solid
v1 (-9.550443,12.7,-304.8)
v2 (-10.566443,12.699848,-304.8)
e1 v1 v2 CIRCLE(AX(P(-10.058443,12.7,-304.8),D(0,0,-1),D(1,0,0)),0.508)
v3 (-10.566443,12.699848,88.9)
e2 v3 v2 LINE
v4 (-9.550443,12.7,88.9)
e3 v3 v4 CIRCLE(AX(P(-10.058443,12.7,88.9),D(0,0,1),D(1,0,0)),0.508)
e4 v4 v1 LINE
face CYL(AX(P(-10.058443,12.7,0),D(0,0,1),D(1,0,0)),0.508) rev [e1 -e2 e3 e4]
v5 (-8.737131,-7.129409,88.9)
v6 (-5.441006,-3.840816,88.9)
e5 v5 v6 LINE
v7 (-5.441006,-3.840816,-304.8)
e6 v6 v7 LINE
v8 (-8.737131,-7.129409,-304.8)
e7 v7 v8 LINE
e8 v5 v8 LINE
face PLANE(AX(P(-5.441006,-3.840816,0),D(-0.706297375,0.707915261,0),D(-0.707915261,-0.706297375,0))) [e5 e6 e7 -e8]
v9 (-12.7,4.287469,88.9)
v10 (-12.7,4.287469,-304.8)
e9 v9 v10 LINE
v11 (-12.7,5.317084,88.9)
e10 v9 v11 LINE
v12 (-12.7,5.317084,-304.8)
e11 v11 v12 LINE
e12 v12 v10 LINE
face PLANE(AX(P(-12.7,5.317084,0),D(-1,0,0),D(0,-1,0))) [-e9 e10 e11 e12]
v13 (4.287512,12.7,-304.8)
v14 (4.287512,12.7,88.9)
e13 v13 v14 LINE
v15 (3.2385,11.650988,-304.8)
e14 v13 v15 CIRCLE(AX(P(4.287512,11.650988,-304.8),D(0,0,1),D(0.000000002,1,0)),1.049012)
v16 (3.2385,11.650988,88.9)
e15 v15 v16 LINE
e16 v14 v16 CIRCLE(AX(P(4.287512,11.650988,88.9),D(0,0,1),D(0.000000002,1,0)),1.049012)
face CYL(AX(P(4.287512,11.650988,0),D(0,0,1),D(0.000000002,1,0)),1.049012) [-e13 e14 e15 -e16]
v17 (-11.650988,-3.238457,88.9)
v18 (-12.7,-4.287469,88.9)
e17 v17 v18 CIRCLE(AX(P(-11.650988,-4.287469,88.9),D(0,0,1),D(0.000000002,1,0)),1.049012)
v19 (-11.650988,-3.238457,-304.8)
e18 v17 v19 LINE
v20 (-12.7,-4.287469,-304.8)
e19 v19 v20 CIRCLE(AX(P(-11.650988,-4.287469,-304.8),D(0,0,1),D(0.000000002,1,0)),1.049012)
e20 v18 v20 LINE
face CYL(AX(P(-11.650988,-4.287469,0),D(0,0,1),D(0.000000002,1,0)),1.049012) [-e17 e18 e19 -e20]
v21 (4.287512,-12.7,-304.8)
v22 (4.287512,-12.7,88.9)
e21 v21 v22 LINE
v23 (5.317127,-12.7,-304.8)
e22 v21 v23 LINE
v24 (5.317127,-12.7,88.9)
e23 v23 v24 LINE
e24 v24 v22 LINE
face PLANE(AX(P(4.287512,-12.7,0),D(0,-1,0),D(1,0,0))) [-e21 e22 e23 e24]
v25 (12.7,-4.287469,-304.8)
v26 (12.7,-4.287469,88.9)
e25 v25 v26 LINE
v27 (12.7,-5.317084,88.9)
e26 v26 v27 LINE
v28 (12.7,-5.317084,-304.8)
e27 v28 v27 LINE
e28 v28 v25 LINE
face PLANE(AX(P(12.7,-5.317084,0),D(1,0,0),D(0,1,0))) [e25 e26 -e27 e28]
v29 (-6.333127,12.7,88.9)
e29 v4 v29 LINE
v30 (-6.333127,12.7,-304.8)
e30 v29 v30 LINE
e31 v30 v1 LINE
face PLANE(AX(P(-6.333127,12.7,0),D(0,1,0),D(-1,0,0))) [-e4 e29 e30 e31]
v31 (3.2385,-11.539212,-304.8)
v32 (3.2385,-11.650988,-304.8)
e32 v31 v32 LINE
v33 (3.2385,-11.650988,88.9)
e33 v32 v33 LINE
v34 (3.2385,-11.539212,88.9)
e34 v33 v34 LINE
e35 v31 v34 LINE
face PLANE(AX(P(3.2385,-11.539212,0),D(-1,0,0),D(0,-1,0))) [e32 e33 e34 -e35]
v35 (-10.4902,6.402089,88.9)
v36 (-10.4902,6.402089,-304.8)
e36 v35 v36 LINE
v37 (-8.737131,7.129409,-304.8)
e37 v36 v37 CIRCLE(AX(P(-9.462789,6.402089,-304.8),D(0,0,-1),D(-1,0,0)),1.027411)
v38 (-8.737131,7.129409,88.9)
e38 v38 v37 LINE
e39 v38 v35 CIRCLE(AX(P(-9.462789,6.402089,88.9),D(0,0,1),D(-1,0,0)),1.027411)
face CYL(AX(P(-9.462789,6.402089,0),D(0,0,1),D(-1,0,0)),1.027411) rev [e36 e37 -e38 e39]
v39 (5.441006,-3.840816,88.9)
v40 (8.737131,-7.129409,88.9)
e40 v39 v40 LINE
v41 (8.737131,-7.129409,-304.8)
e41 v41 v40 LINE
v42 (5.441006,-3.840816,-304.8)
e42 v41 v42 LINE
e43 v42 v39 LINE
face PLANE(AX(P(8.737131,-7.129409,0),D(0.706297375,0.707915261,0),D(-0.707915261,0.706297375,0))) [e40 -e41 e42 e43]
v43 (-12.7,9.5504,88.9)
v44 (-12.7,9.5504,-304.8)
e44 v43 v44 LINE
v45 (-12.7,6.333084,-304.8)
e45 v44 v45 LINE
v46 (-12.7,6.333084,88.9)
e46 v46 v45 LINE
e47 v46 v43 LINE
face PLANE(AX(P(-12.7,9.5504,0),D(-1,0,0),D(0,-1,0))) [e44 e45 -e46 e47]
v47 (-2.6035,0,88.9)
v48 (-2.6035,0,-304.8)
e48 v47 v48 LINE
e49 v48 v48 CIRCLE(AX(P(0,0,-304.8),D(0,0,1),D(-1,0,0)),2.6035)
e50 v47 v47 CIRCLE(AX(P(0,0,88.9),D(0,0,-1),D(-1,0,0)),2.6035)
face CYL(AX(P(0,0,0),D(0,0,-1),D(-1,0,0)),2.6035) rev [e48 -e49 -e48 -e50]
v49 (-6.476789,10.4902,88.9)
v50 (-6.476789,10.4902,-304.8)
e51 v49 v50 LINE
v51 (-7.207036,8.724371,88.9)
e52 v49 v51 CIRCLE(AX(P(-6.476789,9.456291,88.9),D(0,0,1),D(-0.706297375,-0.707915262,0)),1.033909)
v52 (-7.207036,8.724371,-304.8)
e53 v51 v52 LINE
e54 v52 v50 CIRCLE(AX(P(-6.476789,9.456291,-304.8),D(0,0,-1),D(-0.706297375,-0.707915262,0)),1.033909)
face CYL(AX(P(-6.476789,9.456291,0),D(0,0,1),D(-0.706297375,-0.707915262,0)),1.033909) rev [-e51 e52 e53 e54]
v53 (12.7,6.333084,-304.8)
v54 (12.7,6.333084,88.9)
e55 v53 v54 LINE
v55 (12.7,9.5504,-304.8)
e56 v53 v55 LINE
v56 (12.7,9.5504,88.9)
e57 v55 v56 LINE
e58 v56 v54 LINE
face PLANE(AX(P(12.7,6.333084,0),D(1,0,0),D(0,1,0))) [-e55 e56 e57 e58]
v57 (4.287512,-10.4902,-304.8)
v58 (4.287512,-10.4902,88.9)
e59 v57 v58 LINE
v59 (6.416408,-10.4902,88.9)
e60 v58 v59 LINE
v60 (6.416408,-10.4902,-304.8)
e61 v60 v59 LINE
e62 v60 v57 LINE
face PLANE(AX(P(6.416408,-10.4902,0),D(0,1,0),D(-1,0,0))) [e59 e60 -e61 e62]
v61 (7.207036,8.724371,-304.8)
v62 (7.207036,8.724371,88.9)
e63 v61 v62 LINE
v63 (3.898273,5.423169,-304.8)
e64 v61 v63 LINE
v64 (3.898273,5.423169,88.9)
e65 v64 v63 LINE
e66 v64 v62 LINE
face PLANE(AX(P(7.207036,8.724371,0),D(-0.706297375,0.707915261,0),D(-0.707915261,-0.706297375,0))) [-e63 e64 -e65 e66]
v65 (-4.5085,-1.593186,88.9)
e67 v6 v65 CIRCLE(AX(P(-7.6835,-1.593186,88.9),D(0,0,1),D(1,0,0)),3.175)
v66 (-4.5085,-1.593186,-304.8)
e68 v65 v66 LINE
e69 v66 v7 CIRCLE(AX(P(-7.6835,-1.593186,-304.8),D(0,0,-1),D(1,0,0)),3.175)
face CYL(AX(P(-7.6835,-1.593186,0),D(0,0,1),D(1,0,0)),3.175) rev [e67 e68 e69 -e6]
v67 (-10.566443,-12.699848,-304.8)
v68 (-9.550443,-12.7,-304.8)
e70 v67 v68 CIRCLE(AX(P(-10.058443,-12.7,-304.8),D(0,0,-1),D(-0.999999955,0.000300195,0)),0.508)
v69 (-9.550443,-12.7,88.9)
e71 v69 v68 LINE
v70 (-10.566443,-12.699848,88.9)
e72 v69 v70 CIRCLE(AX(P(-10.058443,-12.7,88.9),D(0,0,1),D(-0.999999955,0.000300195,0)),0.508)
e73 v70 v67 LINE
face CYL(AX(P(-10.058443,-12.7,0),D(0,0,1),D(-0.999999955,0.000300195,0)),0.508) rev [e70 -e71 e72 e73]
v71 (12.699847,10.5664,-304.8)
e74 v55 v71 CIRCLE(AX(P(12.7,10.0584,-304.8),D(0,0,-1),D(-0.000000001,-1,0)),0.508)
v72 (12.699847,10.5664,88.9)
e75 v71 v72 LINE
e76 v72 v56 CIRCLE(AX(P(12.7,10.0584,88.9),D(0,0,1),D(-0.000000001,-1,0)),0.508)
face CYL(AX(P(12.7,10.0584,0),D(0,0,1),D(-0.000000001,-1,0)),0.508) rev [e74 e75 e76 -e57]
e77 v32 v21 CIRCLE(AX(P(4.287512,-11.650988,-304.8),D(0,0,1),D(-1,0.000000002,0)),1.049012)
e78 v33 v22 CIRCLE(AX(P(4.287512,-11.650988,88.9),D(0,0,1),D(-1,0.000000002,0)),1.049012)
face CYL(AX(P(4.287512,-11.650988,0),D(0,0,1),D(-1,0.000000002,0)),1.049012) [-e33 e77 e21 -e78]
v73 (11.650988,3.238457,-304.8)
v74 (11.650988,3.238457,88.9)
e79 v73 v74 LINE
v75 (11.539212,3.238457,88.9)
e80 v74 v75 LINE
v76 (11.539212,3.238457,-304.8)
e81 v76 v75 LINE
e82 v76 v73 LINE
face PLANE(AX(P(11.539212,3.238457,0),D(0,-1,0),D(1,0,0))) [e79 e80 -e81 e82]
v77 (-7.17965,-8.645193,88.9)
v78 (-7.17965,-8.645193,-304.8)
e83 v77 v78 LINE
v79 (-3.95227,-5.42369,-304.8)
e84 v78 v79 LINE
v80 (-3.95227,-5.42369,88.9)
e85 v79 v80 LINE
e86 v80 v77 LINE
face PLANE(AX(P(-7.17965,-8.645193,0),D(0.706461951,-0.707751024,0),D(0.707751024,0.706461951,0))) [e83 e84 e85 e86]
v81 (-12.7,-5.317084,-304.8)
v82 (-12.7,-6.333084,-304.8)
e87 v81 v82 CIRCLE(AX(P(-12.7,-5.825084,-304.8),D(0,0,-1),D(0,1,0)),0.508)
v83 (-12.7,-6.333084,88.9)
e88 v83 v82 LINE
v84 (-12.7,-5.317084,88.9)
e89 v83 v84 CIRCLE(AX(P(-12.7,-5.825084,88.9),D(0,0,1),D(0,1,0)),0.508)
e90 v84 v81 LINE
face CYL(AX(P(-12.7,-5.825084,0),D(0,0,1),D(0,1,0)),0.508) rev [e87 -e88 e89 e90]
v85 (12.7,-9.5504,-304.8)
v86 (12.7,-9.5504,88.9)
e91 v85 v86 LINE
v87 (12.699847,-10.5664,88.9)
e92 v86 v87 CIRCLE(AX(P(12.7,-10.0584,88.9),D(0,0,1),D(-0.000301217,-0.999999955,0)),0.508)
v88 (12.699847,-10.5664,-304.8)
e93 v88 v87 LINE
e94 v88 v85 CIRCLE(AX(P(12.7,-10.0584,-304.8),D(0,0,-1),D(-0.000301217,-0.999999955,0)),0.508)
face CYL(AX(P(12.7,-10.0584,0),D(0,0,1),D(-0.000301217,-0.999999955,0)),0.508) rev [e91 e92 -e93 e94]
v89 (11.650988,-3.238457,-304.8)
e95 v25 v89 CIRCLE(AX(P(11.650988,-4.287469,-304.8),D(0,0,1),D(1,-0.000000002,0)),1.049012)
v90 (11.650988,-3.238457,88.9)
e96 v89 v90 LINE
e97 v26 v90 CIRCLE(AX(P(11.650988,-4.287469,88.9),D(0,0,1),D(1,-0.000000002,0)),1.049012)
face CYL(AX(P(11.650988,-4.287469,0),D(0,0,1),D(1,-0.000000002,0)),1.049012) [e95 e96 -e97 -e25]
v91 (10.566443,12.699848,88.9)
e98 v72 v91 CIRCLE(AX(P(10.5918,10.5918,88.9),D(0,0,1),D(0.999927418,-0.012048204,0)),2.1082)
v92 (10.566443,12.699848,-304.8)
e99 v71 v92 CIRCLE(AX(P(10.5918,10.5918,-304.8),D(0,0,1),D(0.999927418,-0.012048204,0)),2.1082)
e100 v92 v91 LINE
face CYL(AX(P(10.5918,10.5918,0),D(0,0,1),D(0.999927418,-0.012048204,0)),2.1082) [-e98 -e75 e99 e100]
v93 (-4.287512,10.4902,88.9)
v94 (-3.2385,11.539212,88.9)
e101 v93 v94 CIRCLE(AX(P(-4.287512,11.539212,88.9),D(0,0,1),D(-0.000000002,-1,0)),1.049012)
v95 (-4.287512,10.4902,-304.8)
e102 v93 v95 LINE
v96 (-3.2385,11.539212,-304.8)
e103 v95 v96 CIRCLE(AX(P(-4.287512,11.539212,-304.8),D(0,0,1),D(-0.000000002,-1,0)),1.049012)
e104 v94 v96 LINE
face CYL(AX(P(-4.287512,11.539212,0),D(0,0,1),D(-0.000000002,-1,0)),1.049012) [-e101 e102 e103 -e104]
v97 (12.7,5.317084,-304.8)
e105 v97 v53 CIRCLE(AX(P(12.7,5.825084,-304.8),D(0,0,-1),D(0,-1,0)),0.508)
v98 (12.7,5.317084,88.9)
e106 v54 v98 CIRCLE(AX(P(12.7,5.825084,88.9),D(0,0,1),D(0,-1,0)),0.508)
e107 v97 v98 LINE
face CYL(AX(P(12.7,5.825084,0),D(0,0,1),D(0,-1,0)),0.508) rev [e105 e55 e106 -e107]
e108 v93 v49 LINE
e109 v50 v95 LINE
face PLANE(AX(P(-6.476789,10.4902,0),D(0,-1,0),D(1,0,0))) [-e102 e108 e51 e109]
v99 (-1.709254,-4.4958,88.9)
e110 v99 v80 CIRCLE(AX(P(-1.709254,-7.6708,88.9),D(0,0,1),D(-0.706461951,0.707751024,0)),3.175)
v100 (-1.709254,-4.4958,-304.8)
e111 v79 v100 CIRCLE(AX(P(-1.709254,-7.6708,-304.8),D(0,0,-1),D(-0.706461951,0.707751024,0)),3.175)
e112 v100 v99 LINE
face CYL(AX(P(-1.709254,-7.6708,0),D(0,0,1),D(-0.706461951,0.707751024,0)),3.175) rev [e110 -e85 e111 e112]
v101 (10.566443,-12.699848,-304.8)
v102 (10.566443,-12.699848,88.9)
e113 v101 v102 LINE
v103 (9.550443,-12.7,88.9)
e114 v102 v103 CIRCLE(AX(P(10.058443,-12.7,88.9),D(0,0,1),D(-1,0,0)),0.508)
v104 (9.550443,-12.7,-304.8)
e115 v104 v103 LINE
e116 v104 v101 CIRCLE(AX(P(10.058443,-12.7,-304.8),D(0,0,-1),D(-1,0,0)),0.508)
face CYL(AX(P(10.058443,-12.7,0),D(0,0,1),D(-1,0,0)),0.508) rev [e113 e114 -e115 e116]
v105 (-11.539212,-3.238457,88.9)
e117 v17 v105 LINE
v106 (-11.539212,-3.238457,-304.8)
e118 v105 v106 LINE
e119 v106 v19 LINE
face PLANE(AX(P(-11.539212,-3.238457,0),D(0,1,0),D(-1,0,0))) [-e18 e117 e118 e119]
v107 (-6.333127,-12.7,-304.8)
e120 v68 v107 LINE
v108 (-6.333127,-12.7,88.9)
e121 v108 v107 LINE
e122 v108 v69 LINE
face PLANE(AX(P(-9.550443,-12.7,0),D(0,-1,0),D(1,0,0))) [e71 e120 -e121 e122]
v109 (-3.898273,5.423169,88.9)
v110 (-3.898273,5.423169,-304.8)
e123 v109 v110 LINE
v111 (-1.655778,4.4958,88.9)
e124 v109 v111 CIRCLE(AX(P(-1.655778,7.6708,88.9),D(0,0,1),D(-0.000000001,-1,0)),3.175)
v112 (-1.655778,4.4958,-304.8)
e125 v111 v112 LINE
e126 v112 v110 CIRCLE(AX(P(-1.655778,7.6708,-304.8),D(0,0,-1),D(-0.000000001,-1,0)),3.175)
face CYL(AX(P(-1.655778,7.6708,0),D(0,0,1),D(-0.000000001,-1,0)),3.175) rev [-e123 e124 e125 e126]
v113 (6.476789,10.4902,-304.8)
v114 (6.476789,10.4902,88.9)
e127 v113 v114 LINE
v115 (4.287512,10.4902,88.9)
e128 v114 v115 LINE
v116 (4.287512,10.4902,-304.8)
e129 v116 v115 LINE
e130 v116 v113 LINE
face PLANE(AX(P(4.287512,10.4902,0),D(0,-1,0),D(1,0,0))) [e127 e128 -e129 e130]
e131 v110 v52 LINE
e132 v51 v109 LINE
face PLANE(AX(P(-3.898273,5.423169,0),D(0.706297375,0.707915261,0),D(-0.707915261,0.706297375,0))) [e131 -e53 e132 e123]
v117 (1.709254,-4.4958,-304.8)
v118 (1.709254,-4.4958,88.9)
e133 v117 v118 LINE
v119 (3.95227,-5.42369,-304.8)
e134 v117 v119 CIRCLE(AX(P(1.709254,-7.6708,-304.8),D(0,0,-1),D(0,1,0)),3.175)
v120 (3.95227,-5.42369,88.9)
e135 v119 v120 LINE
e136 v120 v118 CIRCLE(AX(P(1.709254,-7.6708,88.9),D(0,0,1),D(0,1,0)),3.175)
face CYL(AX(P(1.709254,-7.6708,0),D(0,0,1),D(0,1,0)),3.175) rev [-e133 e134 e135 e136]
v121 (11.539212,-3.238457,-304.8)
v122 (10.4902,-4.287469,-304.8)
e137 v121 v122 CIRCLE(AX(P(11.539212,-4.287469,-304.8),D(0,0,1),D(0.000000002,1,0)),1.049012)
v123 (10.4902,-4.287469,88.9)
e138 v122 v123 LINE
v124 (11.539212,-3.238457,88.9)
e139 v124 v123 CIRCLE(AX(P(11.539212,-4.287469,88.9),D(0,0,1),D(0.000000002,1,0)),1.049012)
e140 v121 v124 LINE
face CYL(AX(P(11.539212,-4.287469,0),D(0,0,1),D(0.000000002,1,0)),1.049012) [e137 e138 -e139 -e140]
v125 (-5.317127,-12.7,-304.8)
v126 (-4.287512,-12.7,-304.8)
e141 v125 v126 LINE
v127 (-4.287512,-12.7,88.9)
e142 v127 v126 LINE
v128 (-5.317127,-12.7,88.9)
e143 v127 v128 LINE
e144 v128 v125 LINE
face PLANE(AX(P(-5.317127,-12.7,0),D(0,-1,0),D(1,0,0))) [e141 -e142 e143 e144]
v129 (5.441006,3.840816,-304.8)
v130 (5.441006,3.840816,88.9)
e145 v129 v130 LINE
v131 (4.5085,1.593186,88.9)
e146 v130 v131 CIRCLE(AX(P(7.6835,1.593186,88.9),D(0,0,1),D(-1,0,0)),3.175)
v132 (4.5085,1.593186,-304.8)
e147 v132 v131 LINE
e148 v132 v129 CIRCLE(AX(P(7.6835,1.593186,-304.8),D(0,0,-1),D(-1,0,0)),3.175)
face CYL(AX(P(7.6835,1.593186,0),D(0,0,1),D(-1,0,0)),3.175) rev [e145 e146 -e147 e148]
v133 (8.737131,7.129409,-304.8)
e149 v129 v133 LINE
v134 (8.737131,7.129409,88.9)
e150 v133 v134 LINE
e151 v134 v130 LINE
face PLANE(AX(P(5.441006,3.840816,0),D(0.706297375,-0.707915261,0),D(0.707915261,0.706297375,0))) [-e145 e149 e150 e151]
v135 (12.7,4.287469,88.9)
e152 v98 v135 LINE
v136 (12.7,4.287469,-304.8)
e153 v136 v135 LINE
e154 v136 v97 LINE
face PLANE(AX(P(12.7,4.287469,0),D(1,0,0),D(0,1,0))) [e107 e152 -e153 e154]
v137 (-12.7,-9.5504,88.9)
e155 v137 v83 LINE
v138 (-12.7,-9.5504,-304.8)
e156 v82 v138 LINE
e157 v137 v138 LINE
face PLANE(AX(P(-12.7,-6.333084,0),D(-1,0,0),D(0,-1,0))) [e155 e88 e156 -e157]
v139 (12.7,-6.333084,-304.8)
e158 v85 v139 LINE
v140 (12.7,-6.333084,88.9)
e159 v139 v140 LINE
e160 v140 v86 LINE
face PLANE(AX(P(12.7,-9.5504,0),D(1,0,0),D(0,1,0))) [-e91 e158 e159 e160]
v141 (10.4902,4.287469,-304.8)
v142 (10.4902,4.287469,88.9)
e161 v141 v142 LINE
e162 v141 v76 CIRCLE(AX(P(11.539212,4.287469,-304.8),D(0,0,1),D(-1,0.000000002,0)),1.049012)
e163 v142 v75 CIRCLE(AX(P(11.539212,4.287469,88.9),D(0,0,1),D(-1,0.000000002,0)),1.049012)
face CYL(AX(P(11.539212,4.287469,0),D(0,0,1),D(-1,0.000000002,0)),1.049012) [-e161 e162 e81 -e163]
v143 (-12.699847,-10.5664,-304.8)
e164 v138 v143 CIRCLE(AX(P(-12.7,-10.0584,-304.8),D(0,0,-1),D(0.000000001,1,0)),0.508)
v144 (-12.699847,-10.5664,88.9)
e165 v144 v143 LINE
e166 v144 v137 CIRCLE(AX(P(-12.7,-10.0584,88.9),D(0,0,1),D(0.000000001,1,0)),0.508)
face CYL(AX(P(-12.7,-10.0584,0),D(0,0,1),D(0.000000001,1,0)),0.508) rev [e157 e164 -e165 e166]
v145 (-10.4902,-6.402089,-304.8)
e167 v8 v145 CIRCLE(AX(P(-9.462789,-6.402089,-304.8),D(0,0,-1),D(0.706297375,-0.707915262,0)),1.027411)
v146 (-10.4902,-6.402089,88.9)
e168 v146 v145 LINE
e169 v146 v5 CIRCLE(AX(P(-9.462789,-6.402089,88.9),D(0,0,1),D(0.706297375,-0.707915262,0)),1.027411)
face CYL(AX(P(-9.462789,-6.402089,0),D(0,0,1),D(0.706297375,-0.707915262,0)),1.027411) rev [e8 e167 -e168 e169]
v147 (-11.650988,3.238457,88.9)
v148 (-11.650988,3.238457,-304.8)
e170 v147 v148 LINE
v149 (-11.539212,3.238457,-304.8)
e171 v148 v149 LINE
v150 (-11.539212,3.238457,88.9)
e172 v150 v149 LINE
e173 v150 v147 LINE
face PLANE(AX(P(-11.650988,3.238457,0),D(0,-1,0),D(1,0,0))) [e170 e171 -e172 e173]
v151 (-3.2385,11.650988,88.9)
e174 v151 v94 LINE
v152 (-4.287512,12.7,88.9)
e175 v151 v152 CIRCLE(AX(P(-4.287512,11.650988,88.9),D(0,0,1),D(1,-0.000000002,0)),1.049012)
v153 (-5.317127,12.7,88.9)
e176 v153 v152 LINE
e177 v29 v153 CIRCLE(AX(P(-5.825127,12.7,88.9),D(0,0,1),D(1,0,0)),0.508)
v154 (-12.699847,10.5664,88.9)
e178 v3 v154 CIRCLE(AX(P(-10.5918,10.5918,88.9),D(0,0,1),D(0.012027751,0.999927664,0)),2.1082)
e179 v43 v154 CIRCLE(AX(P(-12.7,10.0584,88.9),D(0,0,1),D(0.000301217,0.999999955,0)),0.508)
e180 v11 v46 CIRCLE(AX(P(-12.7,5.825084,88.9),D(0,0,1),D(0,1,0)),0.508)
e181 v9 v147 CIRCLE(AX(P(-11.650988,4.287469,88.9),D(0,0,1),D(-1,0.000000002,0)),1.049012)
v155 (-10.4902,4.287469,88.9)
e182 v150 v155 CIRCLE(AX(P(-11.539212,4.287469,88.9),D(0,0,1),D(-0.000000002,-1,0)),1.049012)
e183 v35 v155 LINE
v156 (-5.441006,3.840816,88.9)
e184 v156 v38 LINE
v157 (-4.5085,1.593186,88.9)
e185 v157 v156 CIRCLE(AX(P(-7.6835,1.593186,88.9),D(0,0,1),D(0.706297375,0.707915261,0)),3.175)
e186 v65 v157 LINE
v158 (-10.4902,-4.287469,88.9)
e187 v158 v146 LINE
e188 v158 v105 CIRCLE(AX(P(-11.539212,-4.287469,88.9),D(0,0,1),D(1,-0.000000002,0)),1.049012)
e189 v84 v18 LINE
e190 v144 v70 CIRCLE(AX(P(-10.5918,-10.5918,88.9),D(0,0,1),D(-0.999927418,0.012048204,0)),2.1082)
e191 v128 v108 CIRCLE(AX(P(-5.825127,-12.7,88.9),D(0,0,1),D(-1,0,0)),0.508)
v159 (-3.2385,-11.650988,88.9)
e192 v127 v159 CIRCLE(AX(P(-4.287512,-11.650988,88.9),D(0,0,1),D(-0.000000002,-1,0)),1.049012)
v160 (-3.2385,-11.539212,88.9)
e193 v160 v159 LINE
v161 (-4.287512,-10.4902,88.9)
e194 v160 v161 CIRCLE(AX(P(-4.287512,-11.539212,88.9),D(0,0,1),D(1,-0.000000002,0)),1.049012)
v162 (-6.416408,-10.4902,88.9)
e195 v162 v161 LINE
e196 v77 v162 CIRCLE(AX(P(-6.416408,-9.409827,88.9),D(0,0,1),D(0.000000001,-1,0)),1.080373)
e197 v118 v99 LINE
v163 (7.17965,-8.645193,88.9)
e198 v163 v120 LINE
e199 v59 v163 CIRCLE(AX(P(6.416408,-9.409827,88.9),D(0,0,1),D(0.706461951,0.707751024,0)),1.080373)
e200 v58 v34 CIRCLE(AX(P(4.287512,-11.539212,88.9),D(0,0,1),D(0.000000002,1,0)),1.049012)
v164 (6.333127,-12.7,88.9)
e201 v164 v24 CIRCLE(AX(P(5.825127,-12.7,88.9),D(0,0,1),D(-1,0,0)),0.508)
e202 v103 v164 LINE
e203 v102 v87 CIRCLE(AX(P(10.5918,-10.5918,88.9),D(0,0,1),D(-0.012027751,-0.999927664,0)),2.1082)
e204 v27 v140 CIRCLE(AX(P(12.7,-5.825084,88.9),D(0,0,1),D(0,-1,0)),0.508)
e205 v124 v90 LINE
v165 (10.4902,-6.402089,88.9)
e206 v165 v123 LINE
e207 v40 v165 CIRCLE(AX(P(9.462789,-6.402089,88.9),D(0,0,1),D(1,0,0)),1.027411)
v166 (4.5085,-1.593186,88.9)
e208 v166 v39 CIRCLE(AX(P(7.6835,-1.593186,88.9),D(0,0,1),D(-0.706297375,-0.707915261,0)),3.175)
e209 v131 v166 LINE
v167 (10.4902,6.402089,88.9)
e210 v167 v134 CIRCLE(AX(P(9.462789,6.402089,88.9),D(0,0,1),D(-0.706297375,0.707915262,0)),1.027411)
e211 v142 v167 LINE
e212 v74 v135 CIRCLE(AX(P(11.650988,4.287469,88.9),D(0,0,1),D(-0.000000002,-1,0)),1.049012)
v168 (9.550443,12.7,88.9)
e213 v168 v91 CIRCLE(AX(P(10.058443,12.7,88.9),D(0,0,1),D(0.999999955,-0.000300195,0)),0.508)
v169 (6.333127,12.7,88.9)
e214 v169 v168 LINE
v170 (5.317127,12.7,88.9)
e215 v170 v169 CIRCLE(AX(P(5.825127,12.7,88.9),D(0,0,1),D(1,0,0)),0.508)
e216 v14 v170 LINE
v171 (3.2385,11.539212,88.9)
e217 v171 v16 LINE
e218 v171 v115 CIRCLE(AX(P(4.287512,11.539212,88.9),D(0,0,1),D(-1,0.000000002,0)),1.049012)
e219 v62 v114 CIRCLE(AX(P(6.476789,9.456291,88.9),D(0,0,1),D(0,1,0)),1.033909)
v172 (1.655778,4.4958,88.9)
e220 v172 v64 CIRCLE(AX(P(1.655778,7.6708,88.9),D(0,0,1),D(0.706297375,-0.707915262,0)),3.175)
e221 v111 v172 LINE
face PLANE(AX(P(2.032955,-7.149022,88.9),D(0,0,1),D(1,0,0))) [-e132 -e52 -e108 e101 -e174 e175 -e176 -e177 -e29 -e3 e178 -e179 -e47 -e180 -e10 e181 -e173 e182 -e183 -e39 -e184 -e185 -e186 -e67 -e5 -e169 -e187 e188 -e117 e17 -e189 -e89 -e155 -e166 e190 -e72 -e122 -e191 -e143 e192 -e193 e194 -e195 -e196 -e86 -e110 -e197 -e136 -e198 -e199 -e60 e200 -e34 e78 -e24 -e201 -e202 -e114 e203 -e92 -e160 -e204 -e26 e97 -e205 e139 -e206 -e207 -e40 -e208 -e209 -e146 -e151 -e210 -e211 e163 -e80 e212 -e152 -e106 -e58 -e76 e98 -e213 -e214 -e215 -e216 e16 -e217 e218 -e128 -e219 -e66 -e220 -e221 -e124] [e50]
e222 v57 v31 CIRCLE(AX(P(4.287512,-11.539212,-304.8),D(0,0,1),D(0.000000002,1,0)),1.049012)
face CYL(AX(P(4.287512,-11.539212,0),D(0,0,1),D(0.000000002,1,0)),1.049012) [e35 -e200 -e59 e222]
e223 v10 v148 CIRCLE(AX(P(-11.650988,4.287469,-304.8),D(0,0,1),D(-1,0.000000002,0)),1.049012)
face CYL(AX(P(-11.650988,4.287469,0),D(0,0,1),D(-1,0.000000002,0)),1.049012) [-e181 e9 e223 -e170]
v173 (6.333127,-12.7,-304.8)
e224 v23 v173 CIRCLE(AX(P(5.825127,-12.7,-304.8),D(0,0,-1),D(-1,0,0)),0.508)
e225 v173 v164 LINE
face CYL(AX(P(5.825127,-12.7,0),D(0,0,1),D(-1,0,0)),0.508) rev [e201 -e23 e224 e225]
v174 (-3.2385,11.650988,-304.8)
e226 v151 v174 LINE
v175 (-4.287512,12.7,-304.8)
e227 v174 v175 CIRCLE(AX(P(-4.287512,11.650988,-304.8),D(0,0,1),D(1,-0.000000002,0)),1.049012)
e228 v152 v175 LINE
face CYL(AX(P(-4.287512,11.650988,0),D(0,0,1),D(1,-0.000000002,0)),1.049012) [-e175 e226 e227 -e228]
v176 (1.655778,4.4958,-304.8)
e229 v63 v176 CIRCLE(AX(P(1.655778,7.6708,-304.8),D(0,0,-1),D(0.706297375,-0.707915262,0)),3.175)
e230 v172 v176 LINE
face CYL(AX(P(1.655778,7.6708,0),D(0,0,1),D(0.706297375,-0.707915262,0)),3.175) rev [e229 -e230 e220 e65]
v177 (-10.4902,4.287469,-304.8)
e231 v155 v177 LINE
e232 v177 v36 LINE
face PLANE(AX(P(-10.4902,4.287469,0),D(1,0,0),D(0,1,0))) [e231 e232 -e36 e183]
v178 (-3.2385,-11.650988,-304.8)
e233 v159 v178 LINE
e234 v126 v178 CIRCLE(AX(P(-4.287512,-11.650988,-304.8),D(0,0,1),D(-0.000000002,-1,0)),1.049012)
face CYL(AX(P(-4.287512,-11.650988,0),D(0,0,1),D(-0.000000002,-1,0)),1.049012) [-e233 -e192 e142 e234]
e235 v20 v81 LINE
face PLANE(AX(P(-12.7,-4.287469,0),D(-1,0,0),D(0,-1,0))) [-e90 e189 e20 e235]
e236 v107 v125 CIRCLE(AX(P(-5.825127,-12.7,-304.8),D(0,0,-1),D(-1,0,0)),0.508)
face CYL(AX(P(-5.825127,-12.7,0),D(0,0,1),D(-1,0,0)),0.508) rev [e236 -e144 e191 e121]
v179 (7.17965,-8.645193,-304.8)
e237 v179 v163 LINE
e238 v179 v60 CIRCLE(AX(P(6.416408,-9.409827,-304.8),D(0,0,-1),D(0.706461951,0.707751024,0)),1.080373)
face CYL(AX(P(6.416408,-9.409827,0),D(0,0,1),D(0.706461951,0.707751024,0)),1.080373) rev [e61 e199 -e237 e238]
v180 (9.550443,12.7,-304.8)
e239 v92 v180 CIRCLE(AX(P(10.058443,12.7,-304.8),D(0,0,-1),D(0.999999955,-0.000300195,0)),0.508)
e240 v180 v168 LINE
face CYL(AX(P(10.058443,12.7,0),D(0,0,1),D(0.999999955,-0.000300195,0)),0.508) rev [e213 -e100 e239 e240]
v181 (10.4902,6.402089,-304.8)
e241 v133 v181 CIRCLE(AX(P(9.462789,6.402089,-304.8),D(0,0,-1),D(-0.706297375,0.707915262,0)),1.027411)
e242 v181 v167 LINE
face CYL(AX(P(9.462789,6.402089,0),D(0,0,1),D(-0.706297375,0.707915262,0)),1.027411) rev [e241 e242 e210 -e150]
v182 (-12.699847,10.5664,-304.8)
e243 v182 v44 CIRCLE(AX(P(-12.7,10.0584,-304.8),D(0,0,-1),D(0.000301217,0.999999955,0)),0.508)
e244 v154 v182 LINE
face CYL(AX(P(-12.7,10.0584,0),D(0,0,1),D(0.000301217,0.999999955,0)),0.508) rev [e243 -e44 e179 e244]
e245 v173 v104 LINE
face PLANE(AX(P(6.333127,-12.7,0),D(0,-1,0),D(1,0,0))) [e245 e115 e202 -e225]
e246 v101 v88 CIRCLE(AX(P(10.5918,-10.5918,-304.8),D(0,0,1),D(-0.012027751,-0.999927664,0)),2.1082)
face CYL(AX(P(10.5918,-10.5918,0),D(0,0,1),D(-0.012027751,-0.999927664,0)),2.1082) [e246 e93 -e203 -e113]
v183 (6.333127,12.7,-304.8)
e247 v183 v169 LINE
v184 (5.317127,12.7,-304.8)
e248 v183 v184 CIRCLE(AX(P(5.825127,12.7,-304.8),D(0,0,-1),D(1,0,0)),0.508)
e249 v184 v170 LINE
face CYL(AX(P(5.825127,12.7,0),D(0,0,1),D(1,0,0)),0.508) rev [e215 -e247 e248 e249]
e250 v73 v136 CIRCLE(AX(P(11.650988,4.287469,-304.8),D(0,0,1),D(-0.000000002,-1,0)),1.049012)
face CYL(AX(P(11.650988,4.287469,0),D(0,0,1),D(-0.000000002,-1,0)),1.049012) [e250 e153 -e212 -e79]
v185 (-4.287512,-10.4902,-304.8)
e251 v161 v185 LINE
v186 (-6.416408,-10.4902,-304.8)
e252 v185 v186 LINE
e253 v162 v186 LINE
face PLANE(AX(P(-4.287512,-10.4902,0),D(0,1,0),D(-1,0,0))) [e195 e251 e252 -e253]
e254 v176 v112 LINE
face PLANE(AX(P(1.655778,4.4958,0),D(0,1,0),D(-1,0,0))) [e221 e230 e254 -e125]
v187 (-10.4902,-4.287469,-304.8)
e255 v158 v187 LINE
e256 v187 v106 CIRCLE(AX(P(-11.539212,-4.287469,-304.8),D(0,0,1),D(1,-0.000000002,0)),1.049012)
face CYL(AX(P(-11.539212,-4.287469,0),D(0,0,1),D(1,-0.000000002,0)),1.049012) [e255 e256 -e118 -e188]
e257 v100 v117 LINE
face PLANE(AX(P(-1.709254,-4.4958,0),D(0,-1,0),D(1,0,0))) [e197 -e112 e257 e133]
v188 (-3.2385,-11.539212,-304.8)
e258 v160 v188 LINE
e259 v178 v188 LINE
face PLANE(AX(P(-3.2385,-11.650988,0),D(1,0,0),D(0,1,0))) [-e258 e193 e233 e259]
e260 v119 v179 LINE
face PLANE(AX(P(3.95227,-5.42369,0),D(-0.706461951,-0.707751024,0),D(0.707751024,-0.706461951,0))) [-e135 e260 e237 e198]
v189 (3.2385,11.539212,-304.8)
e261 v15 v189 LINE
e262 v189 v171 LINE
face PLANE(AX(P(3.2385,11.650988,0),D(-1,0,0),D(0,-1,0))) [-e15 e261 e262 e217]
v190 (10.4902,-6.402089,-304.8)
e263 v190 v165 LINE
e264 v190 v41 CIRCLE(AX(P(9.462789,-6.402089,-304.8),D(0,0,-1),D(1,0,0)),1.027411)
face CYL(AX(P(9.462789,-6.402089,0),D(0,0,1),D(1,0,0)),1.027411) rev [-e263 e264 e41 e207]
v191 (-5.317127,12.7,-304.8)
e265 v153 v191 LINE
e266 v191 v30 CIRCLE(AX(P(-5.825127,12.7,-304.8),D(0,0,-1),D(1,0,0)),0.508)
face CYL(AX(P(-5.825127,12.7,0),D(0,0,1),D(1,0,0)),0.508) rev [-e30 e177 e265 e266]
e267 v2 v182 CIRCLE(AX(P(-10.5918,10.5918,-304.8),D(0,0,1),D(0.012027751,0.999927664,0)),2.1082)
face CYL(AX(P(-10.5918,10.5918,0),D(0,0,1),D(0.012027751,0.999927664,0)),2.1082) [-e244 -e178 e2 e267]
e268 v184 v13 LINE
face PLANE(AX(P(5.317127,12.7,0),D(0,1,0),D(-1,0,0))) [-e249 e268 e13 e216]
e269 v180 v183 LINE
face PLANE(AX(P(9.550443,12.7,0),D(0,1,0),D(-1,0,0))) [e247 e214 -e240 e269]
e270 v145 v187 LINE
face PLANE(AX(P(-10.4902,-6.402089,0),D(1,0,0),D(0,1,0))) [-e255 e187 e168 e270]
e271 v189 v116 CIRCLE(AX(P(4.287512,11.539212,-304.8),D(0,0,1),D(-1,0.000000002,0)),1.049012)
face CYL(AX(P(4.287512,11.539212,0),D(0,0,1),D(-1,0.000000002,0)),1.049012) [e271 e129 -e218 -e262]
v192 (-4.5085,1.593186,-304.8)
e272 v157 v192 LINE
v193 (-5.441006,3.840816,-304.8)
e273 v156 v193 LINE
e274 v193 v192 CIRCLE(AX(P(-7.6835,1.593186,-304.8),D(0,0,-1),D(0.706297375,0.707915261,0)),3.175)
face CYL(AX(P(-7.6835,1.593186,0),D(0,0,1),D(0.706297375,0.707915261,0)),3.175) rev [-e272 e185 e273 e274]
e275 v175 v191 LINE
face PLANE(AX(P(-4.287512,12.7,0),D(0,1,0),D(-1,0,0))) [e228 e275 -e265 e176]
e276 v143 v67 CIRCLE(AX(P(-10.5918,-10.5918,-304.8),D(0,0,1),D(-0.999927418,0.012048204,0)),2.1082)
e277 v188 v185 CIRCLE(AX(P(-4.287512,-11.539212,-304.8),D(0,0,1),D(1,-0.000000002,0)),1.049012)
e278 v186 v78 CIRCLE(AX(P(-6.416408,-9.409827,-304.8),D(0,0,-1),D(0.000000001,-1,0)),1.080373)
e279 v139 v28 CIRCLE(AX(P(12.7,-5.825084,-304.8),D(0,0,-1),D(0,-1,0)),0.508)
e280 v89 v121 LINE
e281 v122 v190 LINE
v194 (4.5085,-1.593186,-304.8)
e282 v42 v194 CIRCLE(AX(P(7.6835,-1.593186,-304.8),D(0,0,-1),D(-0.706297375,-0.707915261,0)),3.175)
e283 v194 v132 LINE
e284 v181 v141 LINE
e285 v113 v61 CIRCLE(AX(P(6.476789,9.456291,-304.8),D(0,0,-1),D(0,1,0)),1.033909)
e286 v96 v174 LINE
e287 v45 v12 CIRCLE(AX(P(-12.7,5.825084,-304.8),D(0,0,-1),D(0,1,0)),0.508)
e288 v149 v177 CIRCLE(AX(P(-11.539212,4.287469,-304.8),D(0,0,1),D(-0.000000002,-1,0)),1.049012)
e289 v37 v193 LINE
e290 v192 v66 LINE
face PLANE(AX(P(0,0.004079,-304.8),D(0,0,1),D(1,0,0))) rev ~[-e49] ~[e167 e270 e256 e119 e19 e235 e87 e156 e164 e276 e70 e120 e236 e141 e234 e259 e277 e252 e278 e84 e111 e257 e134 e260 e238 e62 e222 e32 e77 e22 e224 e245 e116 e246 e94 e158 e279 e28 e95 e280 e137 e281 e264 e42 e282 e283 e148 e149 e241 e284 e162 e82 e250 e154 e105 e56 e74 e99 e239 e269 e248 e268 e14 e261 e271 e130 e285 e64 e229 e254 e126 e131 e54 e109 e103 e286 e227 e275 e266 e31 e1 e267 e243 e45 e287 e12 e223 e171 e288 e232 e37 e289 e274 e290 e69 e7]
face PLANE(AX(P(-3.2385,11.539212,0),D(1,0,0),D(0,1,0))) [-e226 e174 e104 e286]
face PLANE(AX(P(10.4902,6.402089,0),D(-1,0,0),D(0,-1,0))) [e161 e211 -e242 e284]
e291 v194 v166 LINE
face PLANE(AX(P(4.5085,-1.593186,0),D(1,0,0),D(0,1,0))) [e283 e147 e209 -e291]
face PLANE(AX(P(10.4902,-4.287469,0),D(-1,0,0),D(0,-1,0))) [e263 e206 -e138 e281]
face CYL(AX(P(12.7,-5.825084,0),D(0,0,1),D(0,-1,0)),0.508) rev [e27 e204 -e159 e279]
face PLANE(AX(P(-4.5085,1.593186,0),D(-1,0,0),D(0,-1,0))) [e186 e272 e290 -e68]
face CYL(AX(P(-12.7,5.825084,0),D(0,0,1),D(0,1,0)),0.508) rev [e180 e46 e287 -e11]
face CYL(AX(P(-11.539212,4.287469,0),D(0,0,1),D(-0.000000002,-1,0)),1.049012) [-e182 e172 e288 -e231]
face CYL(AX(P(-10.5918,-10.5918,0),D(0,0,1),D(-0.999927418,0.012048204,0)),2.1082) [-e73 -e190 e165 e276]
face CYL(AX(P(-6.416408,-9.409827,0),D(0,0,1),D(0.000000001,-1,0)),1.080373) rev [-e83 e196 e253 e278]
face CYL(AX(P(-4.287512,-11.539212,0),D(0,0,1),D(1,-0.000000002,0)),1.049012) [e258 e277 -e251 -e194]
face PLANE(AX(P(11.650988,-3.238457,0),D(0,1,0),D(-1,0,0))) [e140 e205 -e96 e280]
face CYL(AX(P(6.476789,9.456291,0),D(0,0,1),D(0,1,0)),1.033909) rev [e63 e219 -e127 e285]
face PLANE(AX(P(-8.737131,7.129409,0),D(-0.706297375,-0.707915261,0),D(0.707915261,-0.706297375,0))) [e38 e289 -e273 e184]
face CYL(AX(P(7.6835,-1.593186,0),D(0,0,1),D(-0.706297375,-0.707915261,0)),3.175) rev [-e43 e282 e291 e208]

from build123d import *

# Parameters (mm, degrees)
SKETCH1_R           = 2.6035
BOSS_EXTRUDE1_DEPTH = 304.8
SKETCH4_W           = 111.881227381
SKETCH4_H           = 93.826727356
CUT_EXTRUDE3_DEPTH  = 215.9


with BuildPart() as part:
    # Sketch1 → Boss-Extrude1 (new, symmetric)
    with BuildSketch(Plane.XY):
        with BuildLine():
            Line((-7.179650497, -8.645192506), (-3.952270251, -5.423690499))
            ThreePointArc((-3.952270251, -5.423690499), (-2.922936451, -4.736929036), (-1.709253557, -4.4958))
            Line((-1.709253557, -4.4958), (1.709253557, -4.4958))
            ThreePointArc((1.709253557, -4.4958), (2.922936451, -4.736929036), (3.952270251, -5.423690499))
            Line((3.952270251, -5.423690499), (7.179650497, -8.645192506))
            ThreePointArc((7.179650497, -8.645192506), (7.41473083, -9.822813117), (6.416408329, -10.4902))
            Line((6.416408329, -10.4902), (4.287512407, -10.4902))
            ThreePointArc((4.287512407, -10.4902), (3.54574862, -10.79744862), (3.2385, -11.539212407))
            Line((3.2385, -11.539212407), (3.2385, -11.650987593))
            ThreePointArc((3.2385, -11.650987593), (3.54574862, -12.39275138), (4.287512407, -12.7))
            Line((4.287512407, -12.7), (5.317126718, -12.7))
            ThreePointArc((5.317126718, -12.7), (5.825126718, -12.192), (6.333126718, -12.7))
            Line((6.333126718, -12.7), (9.550443118, -12.7))
            ThreePointArc((9.550443118, -12.7), (10.058366869, -12.192000006), (10.566443095, -12.699847501))
            ThreePointArc((10.566443095, -12.699847501), (12.082537762, -12.08250727), (12.699846982, -10.566399977))
            ThreePointArc((12.699846982, -10.566399977), (12.192000006, -10.058323491), (12.7, -9.5504))
            Line((12.7, -9.5504), (12.7, -6.3330836))
            ThreePointArc((12.7, -6.3330836), (12.192, -5.8250836), (12.7, -5.3170836))
            Line((12.7, -5.3170836), (12.7, -4.287469289))
            ThreePointArc((12.7, -4.287469289), (12.39275138, -3.545705502), (11.650987593, -3.238456882))
            Line((11.650987593, -3.238456882), (11.539212407, -3.238456882))
            ThreePointArc((11.539212407, -3.238456882), (10.79744862, -3.545705502), (10.4902, -4.287469289))
            Line((10.4902, -4.287469289), (10.4902, -6.402089023))
            ThreePointArc((10.4902, -6.402089023), (9.856505071, -7.351067942), (8.737131347, -7.129408934))
            Line((8.737131347, -7.129408934), (5.441005833, -3.840816462))
            ThreePointArc((5.441005833, -3.840816462), (4.750877967, -2.809883091), (4.5085, -1.593185507))
            Line((4.5085, -1.593185507), (4.5085, 1.593185507))
            ThreePointArc((4.5085, 1.593185507), (4.750877967, 2.809883091), (5.441005833, 3.840816462))
            Line((5.441005833, 3.840816462), (8.737131347, 7.129408934))
            ThreePointArc((8.737131347, 7.129408934), (9.856505071, 7.351067942), (10.4902, 6.402089023))
            Line((10.4902, 6.402089023), (10.4902, 4.287469289))
            ThreePointArc((10.4902, 4.287469289), (10.79744862, 3.545705502), (11.539212407, 3.238456882))
            Line((11.539212407, 3.238456882), (11.650987593, 3.238456882))
            ThreePointArc((11.650987593, 3.238456882), (12.39275138, 3.545705502), (12.7, 4.287469289))
            Line((12.7, 4.287469289), (12.7, 5.3170836))
            ThreePointArc((12.7, 5.3170836), (12.192, 5.8250836), (12.7, 6.3330836))
            Line((12.7, 6.3330836), (12.7, 9.5504))
            ThreePointArc((12.7, 9.5504), (12.192000006, 10.058323491), (12.699846982, 10.566399977))
            ThreePointArc((12.699846982, 10.566399977), (12.082537762, 12.08250727), (10.566443095, 12.699847501))
            ThreePointArc((10.566443095, 12.699847501), (10.058366869, 12.192000006), (9.550443118, 12.7))
            Line((9.550443118, 12.7), (6.333126718, 12.7))
            ThreePointArc((6.333126718, 12.7), (5.825126718, 12.192), (5.317126718, 12.7))
            Line((5.317126718, 12.7), (4.287512407, 12.7))
            ThreePointArc((4.287512407, 12.7), (3.54574862, 12.39275138), (3.2385, 11.650987593))
            Line((3.2385, 11.650987593), (3.2385, 11.539212407))
            ThreePointArc((3.2385, 11.539212407), (3.54574862, 10.79744862), (4.287512407, 10.4902))
            Line((4.287512407, 10.4902), (6.476788598, 10.4902))
            ThreePointArc((6.476788598, 10.4902), (7.432222385, 9.85140422), (7.207036008, 8.724370562))
            Line((7.207036008, 8.724370562), (3.898272566, 5.423169045))
            ThreePointArc((3.898272566, 5.423169045), (2.869120213, 4.736787962), (1.655778399, 4.4958))
            Line((1.655778399, 4.4958), (-1.655778399, 4.4958))
            ThreePointArc((-1.655778399, 4.4958), (-2.869120213, 4.736787962), (-3.898272566, 5.423169045))
            Line((-3.898272566, 5.423169045), (-7.207036008, 8.724370562))
            ThreePointArc((-7.207036008, 8.724370562), (-7.432222385, 9.85140422), (-6.476788598, 10.4902))
            Line((-6.476788598, 10.4902), (-4.287512407, 10.4902))
            ThreePointArc((-4.287512407, 10.4902), (-3.54574862, 10.79744862), (-3.2385, 11.539212407))
            Line((-3.2385, 11.539212407), (-3.2385, 11.650987593))
            ThreePointArc((-3.2385, 11.650987593), (-3.54574862, 12.39275138), (-4.287512407, 12.7))
            Line((-4.287512407, 12.7), (-5.317126718, 12.7))
            ThreePointArc((-5.317126718, 12.7), (-5.825126718, 12.192), (-6.333126718, 12.7))
            Line((-6.333126718, 12.7), (-9.550443118, 12.7))
            ThreePointArc((-9.550443118, 12.7), (-10.058366869, 12.192000006), (-10.566443095, 12.699847501))
            ThreePointArc((-10.566443095, 12.699847501), (-12.082537762, 12.08250727), (-12.699846982, 10.566399977))
            ThreePointArc((-12.699846982, 10.566399977), (-12.192000006, 10.058323491), (-12.7, 9.5504))
            Line((-12.7, 9.5504), (-12.7, 6.3330836))
            ThreePointArc((-12.7, 6.3330836), (-12.192, 5.8250836), (-12.7, 5.3170836))
            Line((-12.7, 5.3170836), (-12.7, 4.287469289))
            ThreePointArc((-12.7, 4.287469289), (-12.39275138, 3.545705502), (-11.650987593, 3.238456882))
            Line((-11.650987593, 3.238456882), (-11.539212407, 3.238456882))
            ThreePointArc((-11.539212407, 3.238456882), (-10.79744862, 3.545705502), (-10.4902, 4.287469289))
            Line((-10.4902, 4.287469289), (-10.4902, 6.402089023))
            ThreePointArc((-10.4902, 6.402089023), (-9.856505071, 7.351067942), (-8.737131347, 7.129408934))
            Line((-8.737131347, 7.129408934), (-5.441005833, 3.840816462))
            ThreePointArc((-5.441005833, 3.840816462), (-4.750877967, 2.809883091), (-4.5085, 1.593185507))
            Line((-4.5085, 1.593185507), (-4.5085, -1.593185507))
            ThreePointArc((-4.5085, -1.593185507), (-4.750877967, -2.809883091), (-5.441005833, -3.840816462))
            Line((-5.441005833, -3.840816462), (-8.737131347, -7.129408934))
            ThreePointArc((-8.737131347, -7.129408934), (-9.856505071, -7.351067942), (-10.4902, -6.402089023))
            Line((-10.4902, -6.402089023), (-10.4902, -4.287469289))
            ThreePointArc((-10.4902, -4.287469289), (-10.79744862, -3.545705502), (-11.539212407, -3.238456882))
            Line((-11.539212407, -3.238456882), (-11.650987593, -3.238456882))
            ThreePointArc((-11.650987593, -3.238456882), (-12.39275138, -3.545705502), (-12.7, -4.287469289))
            Line((-12.7, -4.287469289), (-12.7, -5.3170836))
            ThreePointArc((-12.7, -5.3170836), (-12.192, -5.8250836), (-12.7, -6.3330836))
            Line((-12.7, -6.3330836), (-12.7, -9.5504))
            ThreePointArc((-12.7, -9.5504), (-12.192000006, -10.058323491), (-12.699846982, -10.566399977))
            ThreePointArc((-12.699846982, -10.566399977), (-12.082537762, -12.08250727), (-10.566443095, -12.699847501))
            ThreePointArc((-10.566443095, -12.699847501), (-10.058366869, -12.192000006), (-9.550443118, -12.7))
            Line((-9.550443118, -12.7), (-6.333126718, -12.7))
            ThreePointArc((-6.333126718, -12.7), (-5.825126718, -12.192), (-5.317126718, -12.7))
            Line((-5.317126718, -12.7), (-4.287512407, -12.7))
            ThreePointArc((-4.287512407, -12.7), (-3.54574862, -12.39275138), (-3.2385, -11.650987593))
            Line((-3.2385, -11.650987593), (-3.2385, -11.539212407))
            ThreePointArc((-3.2385, -11.539212407), (-3.54574862, -10.79744862), (-4.287512407, -10.4902))
            Line((-4.287512407, -10.4902), (-6.416408329, -10.4902))
            ThreePointArc((-6.416408329, -10.4902), (-7.41473083, -9.822813117), (-7.179650497, -8.645192506))
        make_face()
        with Locations(Location((0, 0, 0), (0, 0, 180))):
            Circle(SKETCH1_R, mode=Mode.SUBTRACT)
    extrude(amount=BOSS_EXTRUDE1_DEPTH, both=True)

    # Sketch4 → Cut-Extrude3 (cut)
    with BuildSketch(Plane.XY.offset(304.8)):
        with Locations((2.032955477, -7.149022102)):
            Rectangle(SKETCH4_W, SKETCH4_H)
    extrude(amount=-CUT_EXTRUDE3_DEPTH, mode=Mode.SUBTRACT)


solid = part.part
